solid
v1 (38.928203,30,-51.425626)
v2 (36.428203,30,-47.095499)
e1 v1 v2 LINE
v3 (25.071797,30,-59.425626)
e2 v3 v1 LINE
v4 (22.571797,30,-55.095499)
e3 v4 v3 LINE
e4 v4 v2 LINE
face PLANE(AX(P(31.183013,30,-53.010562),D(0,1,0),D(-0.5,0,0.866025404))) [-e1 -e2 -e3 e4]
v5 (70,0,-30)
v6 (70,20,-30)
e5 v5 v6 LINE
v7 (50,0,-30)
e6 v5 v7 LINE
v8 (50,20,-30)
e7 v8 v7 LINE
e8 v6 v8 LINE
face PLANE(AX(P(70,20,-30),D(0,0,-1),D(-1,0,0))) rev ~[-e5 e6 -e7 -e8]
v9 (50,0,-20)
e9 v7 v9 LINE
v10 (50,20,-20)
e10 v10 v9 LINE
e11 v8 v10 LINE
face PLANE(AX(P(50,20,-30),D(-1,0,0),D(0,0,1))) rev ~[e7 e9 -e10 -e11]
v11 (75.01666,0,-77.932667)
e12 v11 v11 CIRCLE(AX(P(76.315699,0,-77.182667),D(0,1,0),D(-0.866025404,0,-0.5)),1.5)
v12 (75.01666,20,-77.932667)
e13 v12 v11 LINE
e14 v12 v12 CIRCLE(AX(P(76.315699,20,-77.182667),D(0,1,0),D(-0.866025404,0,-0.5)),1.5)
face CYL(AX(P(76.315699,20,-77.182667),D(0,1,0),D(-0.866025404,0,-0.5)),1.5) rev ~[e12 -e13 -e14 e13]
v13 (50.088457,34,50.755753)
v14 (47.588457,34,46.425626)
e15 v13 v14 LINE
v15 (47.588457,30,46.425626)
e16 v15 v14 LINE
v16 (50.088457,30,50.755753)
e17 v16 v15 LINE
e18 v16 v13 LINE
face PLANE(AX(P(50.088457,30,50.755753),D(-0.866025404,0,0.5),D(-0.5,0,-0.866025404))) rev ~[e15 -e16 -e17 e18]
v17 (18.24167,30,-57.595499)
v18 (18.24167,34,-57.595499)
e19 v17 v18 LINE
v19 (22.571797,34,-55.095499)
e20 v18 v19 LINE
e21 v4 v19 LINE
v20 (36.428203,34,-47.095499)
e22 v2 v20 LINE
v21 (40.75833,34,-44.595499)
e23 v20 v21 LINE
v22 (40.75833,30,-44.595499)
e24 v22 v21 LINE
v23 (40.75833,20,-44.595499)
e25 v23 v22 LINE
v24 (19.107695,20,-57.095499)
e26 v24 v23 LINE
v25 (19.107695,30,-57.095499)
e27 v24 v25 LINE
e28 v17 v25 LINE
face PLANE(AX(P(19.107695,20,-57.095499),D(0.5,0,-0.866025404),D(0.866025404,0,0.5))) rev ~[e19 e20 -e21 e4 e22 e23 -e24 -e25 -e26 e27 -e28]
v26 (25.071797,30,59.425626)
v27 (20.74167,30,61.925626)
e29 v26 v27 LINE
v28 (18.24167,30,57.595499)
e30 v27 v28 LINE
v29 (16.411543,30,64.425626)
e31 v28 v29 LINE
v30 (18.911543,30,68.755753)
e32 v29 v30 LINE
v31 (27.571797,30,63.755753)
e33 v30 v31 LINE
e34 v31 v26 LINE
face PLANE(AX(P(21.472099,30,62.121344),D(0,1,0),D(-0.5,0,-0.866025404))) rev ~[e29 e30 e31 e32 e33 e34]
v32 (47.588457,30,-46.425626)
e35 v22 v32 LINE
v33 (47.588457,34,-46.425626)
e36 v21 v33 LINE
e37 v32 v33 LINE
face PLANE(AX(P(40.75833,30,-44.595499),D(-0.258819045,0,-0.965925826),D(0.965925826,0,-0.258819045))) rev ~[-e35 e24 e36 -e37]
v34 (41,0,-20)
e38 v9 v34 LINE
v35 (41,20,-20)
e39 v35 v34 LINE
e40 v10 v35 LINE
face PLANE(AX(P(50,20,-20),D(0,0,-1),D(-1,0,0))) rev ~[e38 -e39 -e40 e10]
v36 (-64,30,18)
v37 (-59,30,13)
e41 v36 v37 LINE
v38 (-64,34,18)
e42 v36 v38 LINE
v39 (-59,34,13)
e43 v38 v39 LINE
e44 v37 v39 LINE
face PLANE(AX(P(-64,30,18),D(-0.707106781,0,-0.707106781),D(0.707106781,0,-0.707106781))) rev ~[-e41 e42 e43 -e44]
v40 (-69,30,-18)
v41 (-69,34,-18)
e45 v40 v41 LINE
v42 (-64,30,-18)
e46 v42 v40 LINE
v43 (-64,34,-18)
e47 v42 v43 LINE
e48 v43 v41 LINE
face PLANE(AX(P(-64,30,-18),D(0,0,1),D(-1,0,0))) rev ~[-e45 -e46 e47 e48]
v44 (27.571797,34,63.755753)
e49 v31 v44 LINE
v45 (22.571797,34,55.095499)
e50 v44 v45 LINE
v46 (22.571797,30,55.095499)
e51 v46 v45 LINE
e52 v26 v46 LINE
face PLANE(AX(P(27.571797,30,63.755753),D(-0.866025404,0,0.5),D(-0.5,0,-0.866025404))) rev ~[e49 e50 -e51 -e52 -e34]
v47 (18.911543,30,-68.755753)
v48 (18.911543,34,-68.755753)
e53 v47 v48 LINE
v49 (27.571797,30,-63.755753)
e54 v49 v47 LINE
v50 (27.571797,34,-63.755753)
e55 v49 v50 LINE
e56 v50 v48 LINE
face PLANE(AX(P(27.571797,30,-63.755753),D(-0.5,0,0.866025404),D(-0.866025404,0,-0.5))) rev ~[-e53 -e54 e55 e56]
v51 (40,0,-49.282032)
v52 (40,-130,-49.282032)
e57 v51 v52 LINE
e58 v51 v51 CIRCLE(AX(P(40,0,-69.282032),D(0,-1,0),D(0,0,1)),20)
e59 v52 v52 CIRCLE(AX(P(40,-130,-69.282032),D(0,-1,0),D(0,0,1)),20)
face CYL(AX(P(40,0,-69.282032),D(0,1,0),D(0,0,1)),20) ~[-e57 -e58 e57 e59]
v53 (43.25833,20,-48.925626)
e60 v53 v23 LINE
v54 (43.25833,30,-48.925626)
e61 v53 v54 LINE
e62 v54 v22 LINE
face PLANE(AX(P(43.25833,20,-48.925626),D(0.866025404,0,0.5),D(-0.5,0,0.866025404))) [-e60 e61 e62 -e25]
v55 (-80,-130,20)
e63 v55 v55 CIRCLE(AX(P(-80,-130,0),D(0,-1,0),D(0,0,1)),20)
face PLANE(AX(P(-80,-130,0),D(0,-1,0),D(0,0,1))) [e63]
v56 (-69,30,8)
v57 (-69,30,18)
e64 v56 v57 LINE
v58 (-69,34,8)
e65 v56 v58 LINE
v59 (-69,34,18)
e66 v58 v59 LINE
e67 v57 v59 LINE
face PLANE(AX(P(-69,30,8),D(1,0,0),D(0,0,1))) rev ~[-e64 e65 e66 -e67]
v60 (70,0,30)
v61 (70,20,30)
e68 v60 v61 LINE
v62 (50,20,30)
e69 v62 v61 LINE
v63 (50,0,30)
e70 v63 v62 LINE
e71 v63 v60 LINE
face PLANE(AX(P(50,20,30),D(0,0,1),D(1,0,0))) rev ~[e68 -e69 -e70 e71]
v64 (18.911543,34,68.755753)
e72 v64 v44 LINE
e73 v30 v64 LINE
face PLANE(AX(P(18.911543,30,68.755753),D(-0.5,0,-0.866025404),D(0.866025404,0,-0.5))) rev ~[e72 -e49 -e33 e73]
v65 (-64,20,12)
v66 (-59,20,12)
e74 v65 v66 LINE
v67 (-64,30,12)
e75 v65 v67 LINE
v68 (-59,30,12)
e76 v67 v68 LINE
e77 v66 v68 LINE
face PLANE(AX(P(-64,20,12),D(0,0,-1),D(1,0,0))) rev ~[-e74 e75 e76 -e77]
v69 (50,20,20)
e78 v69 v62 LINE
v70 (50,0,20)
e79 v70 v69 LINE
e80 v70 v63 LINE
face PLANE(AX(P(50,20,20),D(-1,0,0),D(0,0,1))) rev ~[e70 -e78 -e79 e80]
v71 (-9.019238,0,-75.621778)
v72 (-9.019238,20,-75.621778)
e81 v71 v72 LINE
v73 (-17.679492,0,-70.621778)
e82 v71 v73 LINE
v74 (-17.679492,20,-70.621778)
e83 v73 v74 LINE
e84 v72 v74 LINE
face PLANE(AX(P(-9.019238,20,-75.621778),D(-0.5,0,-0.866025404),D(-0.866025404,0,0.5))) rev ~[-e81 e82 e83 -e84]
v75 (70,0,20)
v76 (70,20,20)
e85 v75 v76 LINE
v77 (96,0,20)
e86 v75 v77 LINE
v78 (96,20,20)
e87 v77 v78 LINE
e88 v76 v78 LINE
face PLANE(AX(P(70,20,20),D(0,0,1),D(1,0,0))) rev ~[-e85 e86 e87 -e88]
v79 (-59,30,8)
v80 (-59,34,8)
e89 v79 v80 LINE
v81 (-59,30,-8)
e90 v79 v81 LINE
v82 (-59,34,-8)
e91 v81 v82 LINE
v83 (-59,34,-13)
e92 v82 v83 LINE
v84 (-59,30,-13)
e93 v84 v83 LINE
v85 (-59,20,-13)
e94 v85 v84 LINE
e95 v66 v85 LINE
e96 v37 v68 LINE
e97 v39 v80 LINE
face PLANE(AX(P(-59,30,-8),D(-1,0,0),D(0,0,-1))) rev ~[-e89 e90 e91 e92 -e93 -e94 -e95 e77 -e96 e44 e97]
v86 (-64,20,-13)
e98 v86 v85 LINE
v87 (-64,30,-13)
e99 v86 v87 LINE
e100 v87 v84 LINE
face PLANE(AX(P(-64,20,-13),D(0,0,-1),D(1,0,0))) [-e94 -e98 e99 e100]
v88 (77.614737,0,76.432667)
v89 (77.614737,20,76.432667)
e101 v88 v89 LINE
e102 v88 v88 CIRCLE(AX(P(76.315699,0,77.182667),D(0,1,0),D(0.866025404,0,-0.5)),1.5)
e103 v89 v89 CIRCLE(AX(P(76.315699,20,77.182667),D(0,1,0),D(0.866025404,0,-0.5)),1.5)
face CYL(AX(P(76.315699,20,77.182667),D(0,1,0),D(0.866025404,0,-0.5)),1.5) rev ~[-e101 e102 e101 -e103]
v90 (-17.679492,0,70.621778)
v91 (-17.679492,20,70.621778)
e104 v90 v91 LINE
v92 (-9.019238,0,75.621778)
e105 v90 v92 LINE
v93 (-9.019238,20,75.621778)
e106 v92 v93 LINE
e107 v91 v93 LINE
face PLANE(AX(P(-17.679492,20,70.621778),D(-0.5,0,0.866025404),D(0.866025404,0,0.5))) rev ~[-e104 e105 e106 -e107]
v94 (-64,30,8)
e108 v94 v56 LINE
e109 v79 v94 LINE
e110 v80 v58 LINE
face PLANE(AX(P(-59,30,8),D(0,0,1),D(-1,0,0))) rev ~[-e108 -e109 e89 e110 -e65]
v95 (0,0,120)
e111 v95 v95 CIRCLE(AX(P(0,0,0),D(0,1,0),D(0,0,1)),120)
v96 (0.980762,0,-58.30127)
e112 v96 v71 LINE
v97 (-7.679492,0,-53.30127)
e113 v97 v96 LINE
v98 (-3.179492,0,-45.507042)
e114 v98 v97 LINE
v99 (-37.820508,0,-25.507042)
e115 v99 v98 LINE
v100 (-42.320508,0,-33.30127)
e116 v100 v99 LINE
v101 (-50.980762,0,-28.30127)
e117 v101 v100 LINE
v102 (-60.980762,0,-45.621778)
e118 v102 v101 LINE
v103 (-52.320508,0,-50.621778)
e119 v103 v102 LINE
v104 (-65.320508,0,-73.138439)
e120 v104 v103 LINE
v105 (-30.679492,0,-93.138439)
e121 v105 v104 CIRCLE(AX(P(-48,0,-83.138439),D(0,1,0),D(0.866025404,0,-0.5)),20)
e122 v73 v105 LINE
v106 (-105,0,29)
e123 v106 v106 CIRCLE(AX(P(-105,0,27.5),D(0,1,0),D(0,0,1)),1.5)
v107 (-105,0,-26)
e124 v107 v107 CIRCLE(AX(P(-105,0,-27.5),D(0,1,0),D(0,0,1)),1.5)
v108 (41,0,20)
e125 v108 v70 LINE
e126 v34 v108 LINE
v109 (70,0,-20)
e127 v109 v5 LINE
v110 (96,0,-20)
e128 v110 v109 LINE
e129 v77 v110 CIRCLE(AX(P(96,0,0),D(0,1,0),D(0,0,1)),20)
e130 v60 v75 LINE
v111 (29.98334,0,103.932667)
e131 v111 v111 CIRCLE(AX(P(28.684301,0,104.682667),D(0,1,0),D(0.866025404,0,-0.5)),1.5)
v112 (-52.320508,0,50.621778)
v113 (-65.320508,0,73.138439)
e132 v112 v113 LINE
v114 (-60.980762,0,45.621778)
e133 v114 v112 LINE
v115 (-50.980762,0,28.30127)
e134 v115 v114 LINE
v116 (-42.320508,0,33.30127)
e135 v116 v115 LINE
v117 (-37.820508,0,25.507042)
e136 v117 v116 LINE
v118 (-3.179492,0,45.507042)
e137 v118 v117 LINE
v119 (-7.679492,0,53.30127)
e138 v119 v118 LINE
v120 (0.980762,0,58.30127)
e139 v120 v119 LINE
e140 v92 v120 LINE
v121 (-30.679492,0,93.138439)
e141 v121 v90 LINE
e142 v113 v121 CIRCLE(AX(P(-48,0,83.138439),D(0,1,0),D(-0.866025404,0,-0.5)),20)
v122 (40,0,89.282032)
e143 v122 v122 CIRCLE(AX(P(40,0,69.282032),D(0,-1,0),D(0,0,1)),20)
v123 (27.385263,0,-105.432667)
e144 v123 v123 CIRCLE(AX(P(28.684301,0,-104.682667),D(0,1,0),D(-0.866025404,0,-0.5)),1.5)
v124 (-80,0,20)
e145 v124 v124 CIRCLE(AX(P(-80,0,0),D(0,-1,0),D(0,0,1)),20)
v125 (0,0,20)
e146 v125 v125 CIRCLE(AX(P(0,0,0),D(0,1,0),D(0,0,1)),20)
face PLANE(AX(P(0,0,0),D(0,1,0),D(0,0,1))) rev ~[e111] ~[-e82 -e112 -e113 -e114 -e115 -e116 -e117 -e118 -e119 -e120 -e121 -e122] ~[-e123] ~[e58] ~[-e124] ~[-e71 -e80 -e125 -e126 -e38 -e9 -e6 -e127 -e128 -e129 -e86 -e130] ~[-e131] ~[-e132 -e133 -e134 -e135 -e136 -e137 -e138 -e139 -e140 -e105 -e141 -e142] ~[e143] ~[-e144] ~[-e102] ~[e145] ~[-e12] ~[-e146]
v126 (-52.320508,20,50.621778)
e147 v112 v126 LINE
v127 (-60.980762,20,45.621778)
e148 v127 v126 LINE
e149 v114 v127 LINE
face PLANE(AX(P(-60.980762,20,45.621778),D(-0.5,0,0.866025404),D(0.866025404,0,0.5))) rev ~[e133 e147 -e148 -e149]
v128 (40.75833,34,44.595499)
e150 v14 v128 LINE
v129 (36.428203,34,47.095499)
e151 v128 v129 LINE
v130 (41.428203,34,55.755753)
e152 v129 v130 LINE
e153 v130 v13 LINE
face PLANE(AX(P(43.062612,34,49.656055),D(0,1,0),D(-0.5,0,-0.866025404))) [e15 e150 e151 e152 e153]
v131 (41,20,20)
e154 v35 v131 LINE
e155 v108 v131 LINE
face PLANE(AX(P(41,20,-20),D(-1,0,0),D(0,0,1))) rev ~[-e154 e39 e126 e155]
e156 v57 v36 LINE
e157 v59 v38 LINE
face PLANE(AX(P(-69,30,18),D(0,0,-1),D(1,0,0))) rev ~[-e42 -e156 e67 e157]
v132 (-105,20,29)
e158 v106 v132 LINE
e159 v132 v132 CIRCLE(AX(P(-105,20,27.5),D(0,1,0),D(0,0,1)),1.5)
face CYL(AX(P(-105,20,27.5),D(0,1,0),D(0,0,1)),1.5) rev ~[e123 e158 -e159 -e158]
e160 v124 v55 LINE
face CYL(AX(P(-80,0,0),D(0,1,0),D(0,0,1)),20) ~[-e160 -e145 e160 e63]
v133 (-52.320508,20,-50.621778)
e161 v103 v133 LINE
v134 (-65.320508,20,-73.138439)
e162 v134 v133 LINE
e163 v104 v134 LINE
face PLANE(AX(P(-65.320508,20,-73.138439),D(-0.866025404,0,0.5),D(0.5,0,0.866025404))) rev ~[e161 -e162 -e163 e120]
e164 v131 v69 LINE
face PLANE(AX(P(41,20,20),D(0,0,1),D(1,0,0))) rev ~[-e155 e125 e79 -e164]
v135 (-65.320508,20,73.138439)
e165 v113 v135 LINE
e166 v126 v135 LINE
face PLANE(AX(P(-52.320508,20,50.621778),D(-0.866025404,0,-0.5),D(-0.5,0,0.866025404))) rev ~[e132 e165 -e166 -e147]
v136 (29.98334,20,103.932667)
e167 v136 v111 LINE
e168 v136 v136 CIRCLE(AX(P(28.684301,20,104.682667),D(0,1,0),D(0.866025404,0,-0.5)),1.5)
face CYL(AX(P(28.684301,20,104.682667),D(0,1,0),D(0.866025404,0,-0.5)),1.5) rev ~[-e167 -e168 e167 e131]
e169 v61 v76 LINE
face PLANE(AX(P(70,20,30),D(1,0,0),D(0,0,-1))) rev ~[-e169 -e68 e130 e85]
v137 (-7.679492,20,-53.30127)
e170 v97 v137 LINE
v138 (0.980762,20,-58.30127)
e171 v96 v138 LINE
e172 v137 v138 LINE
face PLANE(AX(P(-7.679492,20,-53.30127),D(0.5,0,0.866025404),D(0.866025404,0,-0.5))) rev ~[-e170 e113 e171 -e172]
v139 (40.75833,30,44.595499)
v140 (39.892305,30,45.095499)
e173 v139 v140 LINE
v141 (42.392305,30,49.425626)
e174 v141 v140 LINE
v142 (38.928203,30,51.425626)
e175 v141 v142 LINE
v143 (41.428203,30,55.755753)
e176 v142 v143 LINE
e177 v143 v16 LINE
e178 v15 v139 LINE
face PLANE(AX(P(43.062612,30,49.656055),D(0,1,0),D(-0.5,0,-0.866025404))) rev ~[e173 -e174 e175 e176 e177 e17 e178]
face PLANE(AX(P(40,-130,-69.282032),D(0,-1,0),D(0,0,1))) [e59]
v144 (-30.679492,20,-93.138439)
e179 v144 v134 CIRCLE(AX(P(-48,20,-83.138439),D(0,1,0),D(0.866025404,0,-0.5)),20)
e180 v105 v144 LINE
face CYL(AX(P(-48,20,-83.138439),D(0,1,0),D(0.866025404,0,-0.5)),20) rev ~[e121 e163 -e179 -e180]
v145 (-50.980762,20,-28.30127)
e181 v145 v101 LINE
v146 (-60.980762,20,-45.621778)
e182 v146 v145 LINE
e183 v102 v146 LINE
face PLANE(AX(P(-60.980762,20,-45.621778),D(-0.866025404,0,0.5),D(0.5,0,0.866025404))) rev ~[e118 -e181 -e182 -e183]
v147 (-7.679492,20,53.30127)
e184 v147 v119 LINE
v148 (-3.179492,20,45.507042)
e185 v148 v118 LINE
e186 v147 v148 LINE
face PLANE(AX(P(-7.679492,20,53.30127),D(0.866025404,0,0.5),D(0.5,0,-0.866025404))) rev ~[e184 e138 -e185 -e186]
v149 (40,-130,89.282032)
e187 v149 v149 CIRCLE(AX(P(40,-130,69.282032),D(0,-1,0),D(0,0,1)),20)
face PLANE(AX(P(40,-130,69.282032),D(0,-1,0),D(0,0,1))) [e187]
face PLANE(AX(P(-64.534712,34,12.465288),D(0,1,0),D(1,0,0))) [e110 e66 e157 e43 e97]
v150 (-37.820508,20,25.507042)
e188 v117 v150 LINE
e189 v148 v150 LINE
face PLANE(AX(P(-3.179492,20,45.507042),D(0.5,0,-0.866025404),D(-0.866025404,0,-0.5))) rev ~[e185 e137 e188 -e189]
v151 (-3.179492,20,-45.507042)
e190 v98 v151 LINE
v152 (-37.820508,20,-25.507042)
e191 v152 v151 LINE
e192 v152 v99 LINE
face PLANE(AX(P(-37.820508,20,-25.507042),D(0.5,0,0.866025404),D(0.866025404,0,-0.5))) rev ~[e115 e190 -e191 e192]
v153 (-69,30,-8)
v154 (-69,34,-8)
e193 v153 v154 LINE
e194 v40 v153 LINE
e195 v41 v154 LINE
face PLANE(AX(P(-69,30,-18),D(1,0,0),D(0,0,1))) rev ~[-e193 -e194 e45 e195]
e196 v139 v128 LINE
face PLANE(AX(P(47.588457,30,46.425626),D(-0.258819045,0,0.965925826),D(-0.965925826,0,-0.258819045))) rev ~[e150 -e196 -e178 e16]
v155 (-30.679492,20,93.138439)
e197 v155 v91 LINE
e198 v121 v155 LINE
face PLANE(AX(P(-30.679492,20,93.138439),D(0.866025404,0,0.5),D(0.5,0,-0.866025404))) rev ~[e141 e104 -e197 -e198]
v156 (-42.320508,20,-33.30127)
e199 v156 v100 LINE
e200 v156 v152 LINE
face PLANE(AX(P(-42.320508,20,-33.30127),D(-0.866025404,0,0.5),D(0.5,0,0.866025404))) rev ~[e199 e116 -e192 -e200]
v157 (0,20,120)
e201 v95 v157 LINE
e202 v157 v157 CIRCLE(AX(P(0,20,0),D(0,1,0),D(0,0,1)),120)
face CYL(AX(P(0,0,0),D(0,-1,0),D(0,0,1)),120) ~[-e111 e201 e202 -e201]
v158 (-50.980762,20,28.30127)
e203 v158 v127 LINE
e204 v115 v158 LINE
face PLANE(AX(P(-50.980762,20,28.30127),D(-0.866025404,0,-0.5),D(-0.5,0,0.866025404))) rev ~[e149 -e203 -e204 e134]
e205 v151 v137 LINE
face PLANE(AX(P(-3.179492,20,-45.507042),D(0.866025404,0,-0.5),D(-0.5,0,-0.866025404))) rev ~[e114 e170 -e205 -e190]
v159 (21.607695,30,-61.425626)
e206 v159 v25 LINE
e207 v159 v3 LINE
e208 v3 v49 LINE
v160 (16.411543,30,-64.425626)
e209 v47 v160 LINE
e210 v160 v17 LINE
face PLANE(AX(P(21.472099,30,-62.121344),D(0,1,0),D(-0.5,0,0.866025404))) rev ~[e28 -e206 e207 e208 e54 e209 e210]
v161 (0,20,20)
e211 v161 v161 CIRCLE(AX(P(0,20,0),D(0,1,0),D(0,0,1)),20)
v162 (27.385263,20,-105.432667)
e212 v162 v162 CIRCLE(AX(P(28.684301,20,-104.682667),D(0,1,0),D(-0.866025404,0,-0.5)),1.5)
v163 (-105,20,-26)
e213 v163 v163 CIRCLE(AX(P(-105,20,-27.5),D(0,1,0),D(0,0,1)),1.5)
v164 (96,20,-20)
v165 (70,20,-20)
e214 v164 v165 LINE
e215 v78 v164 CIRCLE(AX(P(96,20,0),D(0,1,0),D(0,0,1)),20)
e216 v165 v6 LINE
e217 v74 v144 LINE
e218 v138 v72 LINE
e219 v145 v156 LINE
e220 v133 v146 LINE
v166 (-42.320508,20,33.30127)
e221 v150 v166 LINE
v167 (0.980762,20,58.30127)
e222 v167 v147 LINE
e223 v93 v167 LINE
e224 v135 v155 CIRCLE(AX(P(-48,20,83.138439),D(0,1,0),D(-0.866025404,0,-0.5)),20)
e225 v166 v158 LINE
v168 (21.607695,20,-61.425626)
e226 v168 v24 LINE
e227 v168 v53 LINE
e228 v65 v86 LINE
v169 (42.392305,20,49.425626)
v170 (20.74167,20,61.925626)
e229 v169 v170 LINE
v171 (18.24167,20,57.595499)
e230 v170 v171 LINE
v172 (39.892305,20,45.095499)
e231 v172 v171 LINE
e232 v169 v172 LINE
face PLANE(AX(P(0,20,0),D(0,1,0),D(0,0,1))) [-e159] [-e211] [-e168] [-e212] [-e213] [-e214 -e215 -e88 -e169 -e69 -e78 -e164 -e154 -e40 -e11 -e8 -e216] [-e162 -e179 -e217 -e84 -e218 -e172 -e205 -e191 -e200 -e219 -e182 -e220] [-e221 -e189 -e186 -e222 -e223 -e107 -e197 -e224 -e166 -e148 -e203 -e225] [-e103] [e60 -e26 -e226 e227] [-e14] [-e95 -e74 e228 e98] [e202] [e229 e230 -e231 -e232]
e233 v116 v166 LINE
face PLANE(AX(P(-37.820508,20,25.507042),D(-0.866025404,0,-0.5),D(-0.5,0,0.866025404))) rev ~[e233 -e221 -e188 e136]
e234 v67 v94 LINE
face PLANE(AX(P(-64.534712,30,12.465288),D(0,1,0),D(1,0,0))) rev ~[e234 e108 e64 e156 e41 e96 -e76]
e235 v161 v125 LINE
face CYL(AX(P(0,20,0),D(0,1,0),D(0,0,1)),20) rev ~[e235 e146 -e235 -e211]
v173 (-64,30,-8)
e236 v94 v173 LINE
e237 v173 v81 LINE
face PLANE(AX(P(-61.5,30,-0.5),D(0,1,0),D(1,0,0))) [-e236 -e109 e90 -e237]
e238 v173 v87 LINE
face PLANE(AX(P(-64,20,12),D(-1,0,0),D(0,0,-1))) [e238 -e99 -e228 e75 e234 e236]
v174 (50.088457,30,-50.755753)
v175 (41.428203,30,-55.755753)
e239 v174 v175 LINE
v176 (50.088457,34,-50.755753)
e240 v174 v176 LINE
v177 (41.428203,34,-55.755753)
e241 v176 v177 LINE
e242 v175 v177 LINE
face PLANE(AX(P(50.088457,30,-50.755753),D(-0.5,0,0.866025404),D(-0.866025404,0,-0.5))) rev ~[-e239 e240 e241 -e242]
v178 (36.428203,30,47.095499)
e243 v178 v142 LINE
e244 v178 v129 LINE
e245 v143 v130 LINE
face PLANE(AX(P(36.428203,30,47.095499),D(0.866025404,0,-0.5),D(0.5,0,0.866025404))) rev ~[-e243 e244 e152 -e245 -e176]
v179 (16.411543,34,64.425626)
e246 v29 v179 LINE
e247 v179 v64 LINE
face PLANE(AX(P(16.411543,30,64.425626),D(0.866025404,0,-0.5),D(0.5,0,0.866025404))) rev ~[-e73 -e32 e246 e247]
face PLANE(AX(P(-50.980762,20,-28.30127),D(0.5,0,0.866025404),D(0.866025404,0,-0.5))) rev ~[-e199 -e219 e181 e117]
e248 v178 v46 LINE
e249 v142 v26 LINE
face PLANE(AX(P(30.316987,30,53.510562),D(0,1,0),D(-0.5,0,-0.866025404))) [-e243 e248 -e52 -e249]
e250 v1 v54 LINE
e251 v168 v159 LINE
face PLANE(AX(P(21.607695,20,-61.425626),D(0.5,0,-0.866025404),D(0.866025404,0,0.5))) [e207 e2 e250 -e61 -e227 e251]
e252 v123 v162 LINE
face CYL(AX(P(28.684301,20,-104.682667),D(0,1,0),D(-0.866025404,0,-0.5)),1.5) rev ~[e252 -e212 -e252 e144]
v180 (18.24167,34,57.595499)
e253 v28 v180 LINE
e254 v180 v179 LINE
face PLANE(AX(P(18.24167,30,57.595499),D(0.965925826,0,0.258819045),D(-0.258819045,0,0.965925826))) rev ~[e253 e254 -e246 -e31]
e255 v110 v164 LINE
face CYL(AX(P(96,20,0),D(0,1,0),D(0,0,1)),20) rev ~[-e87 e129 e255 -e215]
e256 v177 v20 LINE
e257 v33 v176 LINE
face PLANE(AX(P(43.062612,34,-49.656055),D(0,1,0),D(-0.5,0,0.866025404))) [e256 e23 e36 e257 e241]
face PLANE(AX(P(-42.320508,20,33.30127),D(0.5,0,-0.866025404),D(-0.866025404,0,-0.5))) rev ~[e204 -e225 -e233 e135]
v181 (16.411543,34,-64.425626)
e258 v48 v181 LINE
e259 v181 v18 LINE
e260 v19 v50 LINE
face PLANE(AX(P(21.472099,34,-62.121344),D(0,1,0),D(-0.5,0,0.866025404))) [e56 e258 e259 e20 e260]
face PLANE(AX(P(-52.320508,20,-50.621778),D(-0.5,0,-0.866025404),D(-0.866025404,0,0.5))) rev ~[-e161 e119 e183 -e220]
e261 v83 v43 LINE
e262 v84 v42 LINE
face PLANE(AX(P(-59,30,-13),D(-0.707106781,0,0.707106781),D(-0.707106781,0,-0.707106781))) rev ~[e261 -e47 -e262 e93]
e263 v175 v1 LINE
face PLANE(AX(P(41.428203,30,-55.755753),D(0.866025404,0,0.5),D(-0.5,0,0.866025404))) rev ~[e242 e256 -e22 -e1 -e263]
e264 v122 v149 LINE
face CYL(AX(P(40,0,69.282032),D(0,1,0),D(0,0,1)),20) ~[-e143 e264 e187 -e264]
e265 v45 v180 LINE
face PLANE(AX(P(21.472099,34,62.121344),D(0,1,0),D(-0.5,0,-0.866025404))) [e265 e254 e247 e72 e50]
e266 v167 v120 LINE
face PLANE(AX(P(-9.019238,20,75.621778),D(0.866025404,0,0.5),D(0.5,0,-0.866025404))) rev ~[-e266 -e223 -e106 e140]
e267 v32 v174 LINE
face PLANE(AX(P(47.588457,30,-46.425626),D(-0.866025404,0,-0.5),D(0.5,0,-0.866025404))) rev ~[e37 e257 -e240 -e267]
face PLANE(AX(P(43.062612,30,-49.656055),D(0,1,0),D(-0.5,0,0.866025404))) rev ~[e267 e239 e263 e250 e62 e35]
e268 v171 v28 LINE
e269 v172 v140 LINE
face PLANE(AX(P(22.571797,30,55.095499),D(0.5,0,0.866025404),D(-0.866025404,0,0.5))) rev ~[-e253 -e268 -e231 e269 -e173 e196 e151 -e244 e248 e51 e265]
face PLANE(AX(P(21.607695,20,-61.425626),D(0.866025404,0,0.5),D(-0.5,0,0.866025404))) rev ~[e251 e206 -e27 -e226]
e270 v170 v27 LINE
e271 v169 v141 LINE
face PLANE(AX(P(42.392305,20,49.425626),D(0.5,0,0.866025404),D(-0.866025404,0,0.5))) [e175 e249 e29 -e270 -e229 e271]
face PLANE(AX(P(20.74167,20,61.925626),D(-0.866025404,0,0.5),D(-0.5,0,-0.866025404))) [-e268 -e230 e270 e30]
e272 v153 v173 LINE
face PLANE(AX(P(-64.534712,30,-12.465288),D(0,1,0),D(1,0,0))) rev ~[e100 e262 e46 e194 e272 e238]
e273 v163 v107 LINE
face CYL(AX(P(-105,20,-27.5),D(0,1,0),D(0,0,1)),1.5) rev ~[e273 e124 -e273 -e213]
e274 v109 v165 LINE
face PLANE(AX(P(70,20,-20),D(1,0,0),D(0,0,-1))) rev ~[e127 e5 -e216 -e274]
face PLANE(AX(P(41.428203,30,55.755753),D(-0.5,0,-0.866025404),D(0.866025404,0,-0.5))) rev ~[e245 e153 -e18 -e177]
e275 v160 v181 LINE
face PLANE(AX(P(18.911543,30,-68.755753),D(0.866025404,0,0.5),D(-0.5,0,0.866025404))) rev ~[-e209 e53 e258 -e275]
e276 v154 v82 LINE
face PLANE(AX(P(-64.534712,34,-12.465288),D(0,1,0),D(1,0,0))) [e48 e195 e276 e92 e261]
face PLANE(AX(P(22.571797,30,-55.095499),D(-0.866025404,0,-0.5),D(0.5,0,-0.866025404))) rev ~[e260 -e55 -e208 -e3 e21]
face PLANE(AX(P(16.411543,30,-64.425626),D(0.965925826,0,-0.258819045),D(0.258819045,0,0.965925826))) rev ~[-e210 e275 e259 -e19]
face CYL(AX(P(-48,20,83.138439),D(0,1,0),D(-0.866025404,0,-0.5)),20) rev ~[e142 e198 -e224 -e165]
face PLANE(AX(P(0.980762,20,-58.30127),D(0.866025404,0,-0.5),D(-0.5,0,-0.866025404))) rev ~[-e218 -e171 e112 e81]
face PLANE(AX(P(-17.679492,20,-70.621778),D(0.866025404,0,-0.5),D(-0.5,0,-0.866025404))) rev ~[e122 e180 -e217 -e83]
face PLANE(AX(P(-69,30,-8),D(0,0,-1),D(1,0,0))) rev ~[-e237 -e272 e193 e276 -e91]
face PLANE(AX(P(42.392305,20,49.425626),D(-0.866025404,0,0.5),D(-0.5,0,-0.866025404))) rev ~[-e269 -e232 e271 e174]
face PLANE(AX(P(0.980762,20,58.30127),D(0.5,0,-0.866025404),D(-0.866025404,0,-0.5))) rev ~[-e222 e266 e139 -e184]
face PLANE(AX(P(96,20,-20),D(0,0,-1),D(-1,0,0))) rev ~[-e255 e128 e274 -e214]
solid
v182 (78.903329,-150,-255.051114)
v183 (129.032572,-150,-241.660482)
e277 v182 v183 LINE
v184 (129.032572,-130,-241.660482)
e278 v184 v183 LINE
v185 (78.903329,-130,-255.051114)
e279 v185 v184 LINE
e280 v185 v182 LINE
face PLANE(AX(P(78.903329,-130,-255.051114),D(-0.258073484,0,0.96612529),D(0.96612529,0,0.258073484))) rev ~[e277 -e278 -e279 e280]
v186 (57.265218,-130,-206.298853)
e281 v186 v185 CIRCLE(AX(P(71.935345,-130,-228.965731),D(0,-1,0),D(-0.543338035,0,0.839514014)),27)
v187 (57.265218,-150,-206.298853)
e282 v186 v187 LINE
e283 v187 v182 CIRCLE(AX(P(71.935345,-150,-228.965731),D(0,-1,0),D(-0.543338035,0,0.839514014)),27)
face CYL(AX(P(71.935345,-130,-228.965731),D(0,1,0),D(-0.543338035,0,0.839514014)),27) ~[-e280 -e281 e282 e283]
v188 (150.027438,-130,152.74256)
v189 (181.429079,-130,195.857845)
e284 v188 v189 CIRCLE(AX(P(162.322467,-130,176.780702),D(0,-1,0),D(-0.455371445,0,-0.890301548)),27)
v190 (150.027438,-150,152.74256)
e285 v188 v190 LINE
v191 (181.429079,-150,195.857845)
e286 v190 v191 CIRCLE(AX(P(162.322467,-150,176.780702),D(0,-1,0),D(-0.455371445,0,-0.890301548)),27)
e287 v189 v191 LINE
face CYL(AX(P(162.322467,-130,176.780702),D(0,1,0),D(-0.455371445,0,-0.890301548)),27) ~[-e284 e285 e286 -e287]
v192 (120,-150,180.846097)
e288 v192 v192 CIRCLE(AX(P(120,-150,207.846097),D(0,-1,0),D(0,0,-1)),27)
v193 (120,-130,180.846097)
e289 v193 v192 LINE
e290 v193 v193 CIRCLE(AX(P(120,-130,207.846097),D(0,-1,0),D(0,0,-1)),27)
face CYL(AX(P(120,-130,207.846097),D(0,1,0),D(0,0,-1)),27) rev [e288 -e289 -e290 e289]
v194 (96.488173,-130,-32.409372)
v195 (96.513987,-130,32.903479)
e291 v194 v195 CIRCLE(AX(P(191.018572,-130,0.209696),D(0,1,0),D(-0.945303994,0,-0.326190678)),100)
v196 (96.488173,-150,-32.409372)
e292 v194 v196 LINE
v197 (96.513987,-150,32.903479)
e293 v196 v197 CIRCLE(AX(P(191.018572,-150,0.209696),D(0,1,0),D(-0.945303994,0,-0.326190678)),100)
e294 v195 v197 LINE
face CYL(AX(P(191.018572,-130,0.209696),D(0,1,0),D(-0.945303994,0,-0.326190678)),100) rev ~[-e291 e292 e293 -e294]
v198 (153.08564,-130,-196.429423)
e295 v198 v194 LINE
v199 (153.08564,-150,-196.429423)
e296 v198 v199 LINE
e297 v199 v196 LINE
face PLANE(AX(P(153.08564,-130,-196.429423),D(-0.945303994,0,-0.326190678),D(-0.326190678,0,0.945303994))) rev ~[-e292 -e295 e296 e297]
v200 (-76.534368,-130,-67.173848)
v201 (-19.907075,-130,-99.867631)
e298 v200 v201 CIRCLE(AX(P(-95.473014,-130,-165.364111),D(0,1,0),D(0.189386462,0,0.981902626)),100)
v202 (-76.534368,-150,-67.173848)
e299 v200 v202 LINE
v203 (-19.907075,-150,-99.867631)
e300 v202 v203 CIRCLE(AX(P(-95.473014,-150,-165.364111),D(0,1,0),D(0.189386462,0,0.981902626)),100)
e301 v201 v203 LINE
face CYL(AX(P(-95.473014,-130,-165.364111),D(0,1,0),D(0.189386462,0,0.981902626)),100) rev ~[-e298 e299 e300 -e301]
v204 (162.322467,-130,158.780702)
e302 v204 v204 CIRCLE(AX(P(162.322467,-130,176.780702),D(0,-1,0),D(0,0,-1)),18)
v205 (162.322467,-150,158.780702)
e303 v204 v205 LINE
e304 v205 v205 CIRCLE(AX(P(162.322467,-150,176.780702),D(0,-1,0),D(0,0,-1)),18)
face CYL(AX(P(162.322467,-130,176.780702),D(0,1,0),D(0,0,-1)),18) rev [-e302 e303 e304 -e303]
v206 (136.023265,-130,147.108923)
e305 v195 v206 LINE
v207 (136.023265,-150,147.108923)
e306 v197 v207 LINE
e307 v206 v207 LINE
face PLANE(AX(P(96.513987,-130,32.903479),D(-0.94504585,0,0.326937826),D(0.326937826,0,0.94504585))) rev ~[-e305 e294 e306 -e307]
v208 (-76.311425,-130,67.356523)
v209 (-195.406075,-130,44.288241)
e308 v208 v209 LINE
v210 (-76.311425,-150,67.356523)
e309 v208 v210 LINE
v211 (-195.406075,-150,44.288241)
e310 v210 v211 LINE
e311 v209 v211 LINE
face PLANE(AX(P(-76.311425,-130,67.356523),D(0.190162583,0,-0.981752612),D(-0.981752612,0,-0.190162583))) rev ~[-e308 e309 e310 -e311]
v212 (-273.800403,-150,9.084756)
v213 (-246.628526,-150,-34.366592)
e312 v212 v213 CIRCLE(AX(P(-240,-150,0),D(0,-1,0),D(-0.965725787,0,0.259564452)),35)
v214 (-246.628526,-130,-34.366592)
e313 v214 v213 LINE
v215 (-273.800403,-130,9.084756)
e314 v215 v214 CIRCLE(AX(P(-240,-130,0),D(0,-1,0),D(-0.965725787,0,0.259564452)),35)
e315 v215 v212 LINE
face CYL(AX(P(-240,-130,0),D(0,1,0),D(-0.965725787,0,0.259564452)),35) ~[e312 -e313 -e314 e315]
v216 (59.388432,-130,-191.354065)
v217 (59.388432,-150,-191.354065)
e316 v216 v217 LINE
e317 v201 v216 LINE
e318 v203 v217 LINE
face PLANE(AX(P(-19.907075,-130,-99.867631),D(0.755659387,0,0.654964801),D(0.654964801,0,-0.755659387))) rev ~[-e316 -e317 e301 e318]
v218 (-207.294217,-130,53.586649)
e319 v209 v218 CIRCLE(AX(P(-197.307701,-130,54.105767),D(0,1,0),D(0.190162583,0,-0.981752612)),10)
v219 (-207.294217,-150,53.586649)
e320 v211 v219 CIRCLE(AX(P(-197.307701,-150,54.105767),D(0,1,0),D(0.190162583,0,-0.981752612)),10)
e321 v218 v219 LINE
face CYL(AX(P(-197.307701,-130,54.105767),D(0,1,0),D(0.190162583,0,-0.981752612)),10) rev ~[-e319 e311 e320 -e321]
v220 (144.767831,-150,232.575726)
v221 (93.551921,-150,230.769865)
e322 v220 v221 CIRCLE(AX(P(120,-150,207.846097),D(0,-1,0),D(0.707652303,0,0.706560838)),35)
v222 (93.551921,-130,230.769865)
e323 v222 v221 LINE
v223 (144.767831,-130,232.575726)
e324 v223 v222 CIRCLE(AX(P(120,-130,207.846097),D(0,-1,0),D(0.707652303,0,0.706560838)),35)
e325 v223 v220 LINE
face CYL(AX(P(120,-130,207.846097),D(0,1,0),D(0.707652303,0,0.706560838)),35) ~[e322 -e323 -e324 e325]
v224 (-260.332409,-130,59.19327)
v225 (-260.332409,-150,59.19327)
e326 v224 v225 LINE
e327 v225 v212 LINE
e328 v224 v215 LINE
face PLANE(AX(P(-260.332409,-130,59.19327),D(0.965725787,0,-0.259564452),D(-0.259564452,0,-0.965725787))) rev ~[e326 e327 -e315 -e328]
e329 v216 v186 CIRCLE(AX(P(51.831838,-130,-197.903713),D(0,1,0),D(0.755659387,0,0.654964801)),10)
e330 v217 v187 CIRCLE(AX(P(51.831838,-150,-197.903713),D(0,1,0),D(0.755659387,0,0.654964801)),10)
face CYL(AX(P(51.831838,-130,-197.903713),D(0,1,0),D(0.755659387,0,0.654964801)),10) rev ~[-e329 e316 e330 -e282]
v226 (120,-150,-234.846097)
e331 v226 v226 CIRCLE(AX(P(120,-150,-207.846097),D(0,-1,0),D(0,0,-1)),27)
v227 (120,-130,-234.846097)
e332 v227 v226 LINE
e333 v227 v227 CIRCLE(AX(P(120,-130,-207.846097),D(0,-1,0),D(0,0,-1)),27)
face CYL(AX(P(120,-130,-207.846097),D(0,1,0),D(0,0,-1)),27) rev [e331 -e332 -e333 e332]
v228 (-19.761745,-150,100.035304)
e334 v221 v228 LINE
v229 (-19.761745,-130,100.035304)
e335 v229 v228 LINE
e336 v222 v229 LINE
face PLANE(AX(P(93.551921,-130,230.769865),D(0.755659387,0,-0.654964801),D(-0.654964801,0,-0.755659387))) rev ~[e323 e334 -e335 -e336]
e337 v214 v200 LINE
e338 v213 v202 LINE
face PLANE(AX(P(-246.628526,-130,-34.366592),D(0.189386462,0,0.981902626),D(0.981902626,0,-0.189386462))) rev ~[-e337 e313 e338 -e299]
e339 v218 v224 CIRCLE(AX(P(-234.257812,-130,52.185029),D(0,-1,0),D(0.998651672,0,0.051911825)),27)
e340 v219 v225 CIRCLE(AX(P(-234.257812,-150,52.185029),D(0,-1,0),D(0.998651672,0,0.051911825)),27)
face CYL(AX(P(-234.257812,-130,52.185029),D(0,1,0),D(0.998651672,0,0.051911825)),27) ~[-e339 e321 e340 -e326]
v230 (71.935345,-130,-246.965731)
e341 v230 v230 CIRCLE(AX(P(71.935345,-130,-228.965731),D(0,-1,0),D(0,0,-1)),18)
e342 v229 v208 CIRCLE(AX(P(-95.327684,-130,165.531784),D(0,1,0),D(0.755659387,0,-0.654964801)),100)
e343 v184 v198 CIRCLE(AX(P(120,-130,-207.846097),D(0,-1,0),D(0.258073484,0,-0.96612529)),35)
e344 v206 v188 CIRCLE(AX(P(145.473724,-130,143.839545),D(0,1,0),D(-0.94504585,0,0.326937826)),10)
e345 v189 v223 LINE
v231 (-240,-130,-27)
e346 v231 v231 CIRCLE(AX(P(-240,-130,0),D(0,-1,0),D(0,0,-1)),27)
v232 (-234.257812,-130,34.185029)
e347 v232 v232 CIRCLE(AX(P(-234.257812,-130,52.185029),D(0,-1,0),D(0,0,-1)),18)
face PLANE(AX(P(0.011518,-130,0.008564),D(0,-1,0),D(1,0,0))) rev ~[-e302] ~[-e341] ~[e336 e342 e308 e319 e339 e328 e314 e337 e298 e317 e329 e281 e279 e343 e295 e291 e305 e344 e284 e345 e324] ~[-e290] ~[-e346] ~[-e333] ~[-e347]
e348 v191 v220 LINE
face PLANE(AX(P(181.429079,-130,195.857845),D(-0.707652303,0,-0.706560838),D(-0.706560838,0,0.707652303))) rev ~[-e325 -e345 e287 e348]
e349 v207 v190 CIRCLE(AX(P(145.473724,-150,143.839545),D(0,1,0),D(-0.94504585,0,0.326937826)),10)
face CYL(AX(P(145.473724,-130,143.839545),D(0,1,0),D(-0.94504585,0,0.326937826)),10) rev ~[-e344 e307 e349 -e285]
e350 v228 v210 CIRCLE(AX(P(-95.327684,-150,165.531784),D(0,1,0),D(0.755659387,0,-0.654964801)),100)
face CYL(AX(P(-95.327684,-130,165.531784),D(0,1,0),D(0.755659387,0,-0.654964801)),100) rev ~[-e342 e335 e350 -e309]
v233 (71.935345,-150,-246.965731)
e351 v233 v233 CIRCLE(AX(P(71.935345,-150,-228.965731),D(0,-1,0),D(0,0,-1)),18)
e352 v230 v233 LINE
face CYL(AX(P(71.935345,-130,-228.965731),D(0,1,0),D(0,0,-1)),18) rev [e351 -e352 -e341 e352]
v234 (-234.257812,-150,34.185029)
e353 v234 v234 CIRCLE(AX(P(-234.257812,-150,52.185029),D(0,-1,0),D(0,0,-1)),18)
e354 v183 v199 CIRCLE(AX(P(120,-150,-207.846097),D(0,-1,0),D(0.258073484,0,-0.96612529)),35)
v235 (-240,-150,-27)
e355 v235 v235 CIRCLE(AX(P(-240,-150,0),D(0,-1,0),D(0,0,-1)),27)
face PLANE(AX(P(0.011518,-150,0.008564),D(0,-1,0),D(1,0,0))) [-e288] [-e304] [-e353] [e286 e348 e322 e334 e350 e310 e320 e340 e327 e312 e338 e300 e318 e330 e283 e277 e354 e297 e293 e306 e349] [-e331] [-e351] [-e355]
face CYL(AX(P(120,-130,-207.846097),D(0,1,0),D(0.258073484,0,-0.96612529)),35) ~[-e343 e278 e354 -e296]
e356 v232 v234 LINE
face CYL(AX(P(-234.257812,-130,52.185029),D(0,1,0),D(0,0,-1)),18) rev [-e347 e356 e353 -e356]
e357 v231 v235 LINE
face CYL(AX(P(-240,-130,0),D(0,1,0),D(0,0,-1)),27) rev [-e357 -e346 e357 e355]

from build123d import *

# Parameters (mm, degrees)
SKETCH_1_R               = 120
EXTRUDE_1_DEPTH          = 20
CUT_EXTRUDE_1_DEPTH      = 171.880074906
CUT_EXTRUDE_1_DEPTH_BACK = 171.880074906
SKETCH_2_R               = 15
CUT_EXTRUDE_4_DEPTH      = 171.880074906
PATTERN_CIRCULAR_3_COUNT = 3
SKETCH_7_R               = 20
CUT_EXTRUDE_5_DEPTH      = 171.880074906
SKETCH_8_R               = 1.5
CUT_EXTRUDE_6_DEPTH      = 171.880074906
PATTERN_CIRCULAR_4_COUNT = 3
SKETCH_12_W              = 5
SKETCH_12_H              = 25
EXTRUDE_3_DEPTH          = 10
EXTRUDE_4_DEPTH          = 4
PATTERN_CIRCULAR_5_COUNT = 3
SKETCH_14_R              = 20
EXTRUDE_5_DEPTH          = 130
SKETCH_16_R              = 27
SKETCH_16_R_2            = 18
EXTRUDE_6_DEPTH          = 20


with BuildPart() as part:
    # 草图1 → 凸台-拉伸1 (new body)
    with BuildSketch(Plane(origin=(0, 0, 0), x_dir=(1, 0, 0), z_dir=(0, 1, 0))):
        Circle(SKETCH_1_R)
    extrude(amount=EXTRUDE_1_DEPTH)

    # 草图2 → 切除-拉伸1 (cut, two sides: drawn at the far end of the back side and taken through both)
    with BuildSketch(Plane(origin=(0, 20, 0), x_dir=(1, 0, 0), z_dir=(0, 1, 0)).offset(-CUT_EXTRUDE_1_DEPTH_BACK)):
        with Locations((60, 0)):
            Circle(SKETCH_2_R)
        with Locations((-30, -51.961524227)):
            Circle(SKETCH_2_R)
        with Locations((-30, 51.961524227)):
            Circle(SKETCH_2_R)
    extrude(amount=CUT_EXTRUDE_1_DEPTH + CUT_EXTRUDE_1_DEPTH_BACK, mode=Mode.SUBTRACT)

    # 草图6 → 切除-拉伸4 (cut, symmetric)
    with BuildSketch(Plane(origin=(0, 20, 0), x_dir=(1, 0, 0), z_dir=(0, 1, 0))):
        with BuildLine():
            Line((41, 20), (41, -20))
            Line((41, -20), (50, -20))
            Line((50, -20), (50, -30))
            Line((50, -30), (70, -30))
            Line((70, -30), (70, -20))
            Line((70, -20), (96, -20))
            ThreePointArc((96, -20), (116, 0), (96, 20))
            Line((96, 20), (70, 20))
            Line((70, 20), (70, 30))
            Line((70, 30), (50, 30))
            Line((50, 30), (50, 20))
            Line((50, 20), (41, 20))
        make_face()
    cut_extrude_4 = extrude(amount=CUT_EXTRUDE_4_DEPTH, both=True, mode=Mode.SUBTRACT)

    # 阵列(圆周)3: 切除-拉伸4 ×3 about axis
    pattern_circular_3_axis = Axis((0, 0, 0), (0, 1, 0))
    for i in range(1, PATTERN_CIRCULAR_3_COUNT):
        add(cut_extrude_4.rotate(pattern_circular_3_axis, i * 360 / PATTERN_CIRCULAR_3_COUNT), mode=Mode.SUBTRACT)

    # 草图7 → 切除-拉伸5 (cut, through all)
    with BuildSketch(Plane(origin=(0, 20, 0), x_dir=(1, 0, 0), z_dir=(0, 1, 0))):
        Circle(SKETCH_7_R)
    extrude(amount=-CUT_EXTRUDE_5_DEPTH, mode=Mode.SUBTRACT)

    # 草图8 → 切除-拉伸6 (cut, symmetric)
    with BuildSketch(Plane(origin=(0, 20, 0), x_dir=(1, 0, 0), z_dir=(0, 1, 0))):
        with Locations((-105, 27.5)):
            Circle(SKETCH_8_R)
        with Locations((-105, -27.5)):
            Circle(SKETCH_8_R)
    cut_extrude_6 = extrude(amount=CUT_EXTRUDE_6_DEPTH, both=True, mode=Mode.SUBTRACT)

    # 阵列(圆周)4: 切除-拉伸6 ×3 about axis
    pattern_circular_4_axis = Axis((0, 0, 0), (0, 1, 0))
    for i in range(1, PATTERN_CIRCULAR_4_COUNT):
        add(cut_extrude_6.rotate(pattern_circular_4_axis, i * 360 / PATTERN_CIRCULAR_4_COUNT), mode=Mode.SUBTRACT)

    # 草图12 → 凸台-拉伸3 (add)
    with BuildSketch(Plane(origin=(0, 20, 0), x_dir=(1, 0, 0), z_dir=(0, 1, 0))):
        with Locations((-61.5, 0.5)):
            Rectangle(SKETCH_12_W, SKETCH_12_H)
    extrude_3 = extrude(amount=EXTRUDE_3_DEPTH)

    # 草图13 → 凸台-拉伸4 (add)
    with BuildSketch(Plane(origin=(0, 30, 0), x_dir=(1, 0, 0), z_dir=(0, 1, 0))):
        Polygon((-69, 8), (-59, 8), (-59, 13), (-64, 18), (-69, 18), align=None)
        Polygon((-59, -13), (-59, -8), (-69, -8), (-69, -18), (-64, -18), align=None)
    extrude_4 = extrude(amount=EXTRUDE_4_DEPTH)

    # 阵列(圆周)5: 凸台-拉伸3, 凸台-拉伸4 ×3 about axis
    pattern_circular_5_axis = Axis((0, 0, 0), (0, 1, 0))
    add([extrude_3.rotate(pattern_circular_5_axis, i * 360 / PATTERN_CIRCULAR_5_COUNT) for i in range(1, PATTERN_CIRCULAR_5_COUNT)])
    add([extrude_4.rotate(pattern_circular_5_axis, i * 360 / PATTERN_CIRCULAR_5_COUNT) for i in range(1, PATTERN_CIRCULAR_5_COUNT)])

    # 草图14 → 凸台-拉伸5 (add)
    with BuildSketch(Plane.XZ):
        with Locations((-80, 0)):
            Circle(SKETCH_14_R)
        with Locations((40, 69.282032303)):
            Circle(SKETCH_14_R)
        with Locations((40, -69.282032303)):
            Circle(SKETCH_14_R)
    extrude(amount=EXTRUDE_5_DEPTH)


with BuildPart() as body_2:
    # 草图16 → 凸台-拉伸6 (new body)
    with BuildSketch(Plane.XZ.offset(130)):
        with BuildLine():
            Line((-246.628526186, -34.366591926), (-76.534367594, -67.173848074))
            ThreePointArc((-76.534367594, -67.173848074), (-45.473013838, -78.761570341), (-19.907075105, -99.867630635))
            Line((-19.907075105, -99.867630635), (59.388431747, -191.35406479))
            ThreePointArc((59.388431747, -191.35406479), (61.732420219, -199.31029348), (57.265218227, -206.298852936))
            ThreePointArc((57.265218227, -206.298852936), (47.25688302, -239.918973081), (78.903329246, -255.051114152))
            Line((78.903329246, -255.051114152), (129.032571935, -241.660482075))
            ThreePointArc((129.032571935, -241.660482075), (150.902234747, -224.279352448), (153.085639795, -196.429423166))
            Line((153.085639795, -196.429423166), (96.488172504, -32.409371588))
            ThreePointArc((96.488172504, -32.409371588), (91.01857973, 0.24922053), (96.513986941, 32.90347881))
            Line((96.513986941, 32.90347881), (136.023265352, 147.108922979))
            ThreePointArc((136.023265352, 147.108922979), (141.74156728, 153.116990887), (150.027438301, 152.742560206))
            ThreePointArc((150.027438301, 152.742560206), (184.147484028, 160.885147739), (181.429079496, 195.857844646))
            Line((181.429079496, 195.857844646), (144.7678306, 232.575726249))
            ThreePointArc((144.7678306, 232.575726249), (118.766674387, 242.824360272), (93.551921443, 230.769864938))
            Line((93.551921443, 230.769864938), (-19.761744948, 100.035303917))
            ThreePointArc((-19.761744948, 100.035303917), (-45.293458555, 78.949012527), (-76.311425368, 67.356522759))
            Line((-76.311425368, 67.356522759), (-195.406074797, 44.288240703))
            ThreePointArc((-195.406074797, 44.288240703), (-203.468582255, 46.228994799), (-207.29421735, 53.586648575))
            ThreePointArc((-207.29421735, 53.586648575), (-231.419480362, 79.035427258), (-260.332408742, 59.193269506))
            Line((-260.332408742, 59.193269506), (-273.800402536, 9.084755826))
            ThreePointArc((-273.800402536, 9.084755826), (-269.675401847, -18.557222994), (-246.628526186, -34.366591926))
        make_face()
        with Locations((-240, 0)):
            Circle(SKETCH_16_R, mode=Mode.SUBTRACT)
        with Locations((120, 207.846096908)):
            Circle(SKETCH_16_R, mode=Mode.SUBTRACT)
        with Locations((120, -207.846096908)):
            Circle(SKETCH_16_R, mode=Mode.SUBTRACT)
        with Locations((71.935345182, -228.965731308)):
            Circle(SKETCH_16_R_2, mode=Mode.SUBTRACT)
        with Locations((-234.2578125, 52.185029297)):
            Circle(SKETCH_16_R_2, mode=Mode.SUBTRACT)
        with Locations((162.322467318, 176.780702012)):
            Circle(SKETCH_16_R_2, mode=Mode.SUBTRACT)
    extrude(amount=EXTRUDE_6_DEPTH)


solid = Compound([part.part, body_2.part])
